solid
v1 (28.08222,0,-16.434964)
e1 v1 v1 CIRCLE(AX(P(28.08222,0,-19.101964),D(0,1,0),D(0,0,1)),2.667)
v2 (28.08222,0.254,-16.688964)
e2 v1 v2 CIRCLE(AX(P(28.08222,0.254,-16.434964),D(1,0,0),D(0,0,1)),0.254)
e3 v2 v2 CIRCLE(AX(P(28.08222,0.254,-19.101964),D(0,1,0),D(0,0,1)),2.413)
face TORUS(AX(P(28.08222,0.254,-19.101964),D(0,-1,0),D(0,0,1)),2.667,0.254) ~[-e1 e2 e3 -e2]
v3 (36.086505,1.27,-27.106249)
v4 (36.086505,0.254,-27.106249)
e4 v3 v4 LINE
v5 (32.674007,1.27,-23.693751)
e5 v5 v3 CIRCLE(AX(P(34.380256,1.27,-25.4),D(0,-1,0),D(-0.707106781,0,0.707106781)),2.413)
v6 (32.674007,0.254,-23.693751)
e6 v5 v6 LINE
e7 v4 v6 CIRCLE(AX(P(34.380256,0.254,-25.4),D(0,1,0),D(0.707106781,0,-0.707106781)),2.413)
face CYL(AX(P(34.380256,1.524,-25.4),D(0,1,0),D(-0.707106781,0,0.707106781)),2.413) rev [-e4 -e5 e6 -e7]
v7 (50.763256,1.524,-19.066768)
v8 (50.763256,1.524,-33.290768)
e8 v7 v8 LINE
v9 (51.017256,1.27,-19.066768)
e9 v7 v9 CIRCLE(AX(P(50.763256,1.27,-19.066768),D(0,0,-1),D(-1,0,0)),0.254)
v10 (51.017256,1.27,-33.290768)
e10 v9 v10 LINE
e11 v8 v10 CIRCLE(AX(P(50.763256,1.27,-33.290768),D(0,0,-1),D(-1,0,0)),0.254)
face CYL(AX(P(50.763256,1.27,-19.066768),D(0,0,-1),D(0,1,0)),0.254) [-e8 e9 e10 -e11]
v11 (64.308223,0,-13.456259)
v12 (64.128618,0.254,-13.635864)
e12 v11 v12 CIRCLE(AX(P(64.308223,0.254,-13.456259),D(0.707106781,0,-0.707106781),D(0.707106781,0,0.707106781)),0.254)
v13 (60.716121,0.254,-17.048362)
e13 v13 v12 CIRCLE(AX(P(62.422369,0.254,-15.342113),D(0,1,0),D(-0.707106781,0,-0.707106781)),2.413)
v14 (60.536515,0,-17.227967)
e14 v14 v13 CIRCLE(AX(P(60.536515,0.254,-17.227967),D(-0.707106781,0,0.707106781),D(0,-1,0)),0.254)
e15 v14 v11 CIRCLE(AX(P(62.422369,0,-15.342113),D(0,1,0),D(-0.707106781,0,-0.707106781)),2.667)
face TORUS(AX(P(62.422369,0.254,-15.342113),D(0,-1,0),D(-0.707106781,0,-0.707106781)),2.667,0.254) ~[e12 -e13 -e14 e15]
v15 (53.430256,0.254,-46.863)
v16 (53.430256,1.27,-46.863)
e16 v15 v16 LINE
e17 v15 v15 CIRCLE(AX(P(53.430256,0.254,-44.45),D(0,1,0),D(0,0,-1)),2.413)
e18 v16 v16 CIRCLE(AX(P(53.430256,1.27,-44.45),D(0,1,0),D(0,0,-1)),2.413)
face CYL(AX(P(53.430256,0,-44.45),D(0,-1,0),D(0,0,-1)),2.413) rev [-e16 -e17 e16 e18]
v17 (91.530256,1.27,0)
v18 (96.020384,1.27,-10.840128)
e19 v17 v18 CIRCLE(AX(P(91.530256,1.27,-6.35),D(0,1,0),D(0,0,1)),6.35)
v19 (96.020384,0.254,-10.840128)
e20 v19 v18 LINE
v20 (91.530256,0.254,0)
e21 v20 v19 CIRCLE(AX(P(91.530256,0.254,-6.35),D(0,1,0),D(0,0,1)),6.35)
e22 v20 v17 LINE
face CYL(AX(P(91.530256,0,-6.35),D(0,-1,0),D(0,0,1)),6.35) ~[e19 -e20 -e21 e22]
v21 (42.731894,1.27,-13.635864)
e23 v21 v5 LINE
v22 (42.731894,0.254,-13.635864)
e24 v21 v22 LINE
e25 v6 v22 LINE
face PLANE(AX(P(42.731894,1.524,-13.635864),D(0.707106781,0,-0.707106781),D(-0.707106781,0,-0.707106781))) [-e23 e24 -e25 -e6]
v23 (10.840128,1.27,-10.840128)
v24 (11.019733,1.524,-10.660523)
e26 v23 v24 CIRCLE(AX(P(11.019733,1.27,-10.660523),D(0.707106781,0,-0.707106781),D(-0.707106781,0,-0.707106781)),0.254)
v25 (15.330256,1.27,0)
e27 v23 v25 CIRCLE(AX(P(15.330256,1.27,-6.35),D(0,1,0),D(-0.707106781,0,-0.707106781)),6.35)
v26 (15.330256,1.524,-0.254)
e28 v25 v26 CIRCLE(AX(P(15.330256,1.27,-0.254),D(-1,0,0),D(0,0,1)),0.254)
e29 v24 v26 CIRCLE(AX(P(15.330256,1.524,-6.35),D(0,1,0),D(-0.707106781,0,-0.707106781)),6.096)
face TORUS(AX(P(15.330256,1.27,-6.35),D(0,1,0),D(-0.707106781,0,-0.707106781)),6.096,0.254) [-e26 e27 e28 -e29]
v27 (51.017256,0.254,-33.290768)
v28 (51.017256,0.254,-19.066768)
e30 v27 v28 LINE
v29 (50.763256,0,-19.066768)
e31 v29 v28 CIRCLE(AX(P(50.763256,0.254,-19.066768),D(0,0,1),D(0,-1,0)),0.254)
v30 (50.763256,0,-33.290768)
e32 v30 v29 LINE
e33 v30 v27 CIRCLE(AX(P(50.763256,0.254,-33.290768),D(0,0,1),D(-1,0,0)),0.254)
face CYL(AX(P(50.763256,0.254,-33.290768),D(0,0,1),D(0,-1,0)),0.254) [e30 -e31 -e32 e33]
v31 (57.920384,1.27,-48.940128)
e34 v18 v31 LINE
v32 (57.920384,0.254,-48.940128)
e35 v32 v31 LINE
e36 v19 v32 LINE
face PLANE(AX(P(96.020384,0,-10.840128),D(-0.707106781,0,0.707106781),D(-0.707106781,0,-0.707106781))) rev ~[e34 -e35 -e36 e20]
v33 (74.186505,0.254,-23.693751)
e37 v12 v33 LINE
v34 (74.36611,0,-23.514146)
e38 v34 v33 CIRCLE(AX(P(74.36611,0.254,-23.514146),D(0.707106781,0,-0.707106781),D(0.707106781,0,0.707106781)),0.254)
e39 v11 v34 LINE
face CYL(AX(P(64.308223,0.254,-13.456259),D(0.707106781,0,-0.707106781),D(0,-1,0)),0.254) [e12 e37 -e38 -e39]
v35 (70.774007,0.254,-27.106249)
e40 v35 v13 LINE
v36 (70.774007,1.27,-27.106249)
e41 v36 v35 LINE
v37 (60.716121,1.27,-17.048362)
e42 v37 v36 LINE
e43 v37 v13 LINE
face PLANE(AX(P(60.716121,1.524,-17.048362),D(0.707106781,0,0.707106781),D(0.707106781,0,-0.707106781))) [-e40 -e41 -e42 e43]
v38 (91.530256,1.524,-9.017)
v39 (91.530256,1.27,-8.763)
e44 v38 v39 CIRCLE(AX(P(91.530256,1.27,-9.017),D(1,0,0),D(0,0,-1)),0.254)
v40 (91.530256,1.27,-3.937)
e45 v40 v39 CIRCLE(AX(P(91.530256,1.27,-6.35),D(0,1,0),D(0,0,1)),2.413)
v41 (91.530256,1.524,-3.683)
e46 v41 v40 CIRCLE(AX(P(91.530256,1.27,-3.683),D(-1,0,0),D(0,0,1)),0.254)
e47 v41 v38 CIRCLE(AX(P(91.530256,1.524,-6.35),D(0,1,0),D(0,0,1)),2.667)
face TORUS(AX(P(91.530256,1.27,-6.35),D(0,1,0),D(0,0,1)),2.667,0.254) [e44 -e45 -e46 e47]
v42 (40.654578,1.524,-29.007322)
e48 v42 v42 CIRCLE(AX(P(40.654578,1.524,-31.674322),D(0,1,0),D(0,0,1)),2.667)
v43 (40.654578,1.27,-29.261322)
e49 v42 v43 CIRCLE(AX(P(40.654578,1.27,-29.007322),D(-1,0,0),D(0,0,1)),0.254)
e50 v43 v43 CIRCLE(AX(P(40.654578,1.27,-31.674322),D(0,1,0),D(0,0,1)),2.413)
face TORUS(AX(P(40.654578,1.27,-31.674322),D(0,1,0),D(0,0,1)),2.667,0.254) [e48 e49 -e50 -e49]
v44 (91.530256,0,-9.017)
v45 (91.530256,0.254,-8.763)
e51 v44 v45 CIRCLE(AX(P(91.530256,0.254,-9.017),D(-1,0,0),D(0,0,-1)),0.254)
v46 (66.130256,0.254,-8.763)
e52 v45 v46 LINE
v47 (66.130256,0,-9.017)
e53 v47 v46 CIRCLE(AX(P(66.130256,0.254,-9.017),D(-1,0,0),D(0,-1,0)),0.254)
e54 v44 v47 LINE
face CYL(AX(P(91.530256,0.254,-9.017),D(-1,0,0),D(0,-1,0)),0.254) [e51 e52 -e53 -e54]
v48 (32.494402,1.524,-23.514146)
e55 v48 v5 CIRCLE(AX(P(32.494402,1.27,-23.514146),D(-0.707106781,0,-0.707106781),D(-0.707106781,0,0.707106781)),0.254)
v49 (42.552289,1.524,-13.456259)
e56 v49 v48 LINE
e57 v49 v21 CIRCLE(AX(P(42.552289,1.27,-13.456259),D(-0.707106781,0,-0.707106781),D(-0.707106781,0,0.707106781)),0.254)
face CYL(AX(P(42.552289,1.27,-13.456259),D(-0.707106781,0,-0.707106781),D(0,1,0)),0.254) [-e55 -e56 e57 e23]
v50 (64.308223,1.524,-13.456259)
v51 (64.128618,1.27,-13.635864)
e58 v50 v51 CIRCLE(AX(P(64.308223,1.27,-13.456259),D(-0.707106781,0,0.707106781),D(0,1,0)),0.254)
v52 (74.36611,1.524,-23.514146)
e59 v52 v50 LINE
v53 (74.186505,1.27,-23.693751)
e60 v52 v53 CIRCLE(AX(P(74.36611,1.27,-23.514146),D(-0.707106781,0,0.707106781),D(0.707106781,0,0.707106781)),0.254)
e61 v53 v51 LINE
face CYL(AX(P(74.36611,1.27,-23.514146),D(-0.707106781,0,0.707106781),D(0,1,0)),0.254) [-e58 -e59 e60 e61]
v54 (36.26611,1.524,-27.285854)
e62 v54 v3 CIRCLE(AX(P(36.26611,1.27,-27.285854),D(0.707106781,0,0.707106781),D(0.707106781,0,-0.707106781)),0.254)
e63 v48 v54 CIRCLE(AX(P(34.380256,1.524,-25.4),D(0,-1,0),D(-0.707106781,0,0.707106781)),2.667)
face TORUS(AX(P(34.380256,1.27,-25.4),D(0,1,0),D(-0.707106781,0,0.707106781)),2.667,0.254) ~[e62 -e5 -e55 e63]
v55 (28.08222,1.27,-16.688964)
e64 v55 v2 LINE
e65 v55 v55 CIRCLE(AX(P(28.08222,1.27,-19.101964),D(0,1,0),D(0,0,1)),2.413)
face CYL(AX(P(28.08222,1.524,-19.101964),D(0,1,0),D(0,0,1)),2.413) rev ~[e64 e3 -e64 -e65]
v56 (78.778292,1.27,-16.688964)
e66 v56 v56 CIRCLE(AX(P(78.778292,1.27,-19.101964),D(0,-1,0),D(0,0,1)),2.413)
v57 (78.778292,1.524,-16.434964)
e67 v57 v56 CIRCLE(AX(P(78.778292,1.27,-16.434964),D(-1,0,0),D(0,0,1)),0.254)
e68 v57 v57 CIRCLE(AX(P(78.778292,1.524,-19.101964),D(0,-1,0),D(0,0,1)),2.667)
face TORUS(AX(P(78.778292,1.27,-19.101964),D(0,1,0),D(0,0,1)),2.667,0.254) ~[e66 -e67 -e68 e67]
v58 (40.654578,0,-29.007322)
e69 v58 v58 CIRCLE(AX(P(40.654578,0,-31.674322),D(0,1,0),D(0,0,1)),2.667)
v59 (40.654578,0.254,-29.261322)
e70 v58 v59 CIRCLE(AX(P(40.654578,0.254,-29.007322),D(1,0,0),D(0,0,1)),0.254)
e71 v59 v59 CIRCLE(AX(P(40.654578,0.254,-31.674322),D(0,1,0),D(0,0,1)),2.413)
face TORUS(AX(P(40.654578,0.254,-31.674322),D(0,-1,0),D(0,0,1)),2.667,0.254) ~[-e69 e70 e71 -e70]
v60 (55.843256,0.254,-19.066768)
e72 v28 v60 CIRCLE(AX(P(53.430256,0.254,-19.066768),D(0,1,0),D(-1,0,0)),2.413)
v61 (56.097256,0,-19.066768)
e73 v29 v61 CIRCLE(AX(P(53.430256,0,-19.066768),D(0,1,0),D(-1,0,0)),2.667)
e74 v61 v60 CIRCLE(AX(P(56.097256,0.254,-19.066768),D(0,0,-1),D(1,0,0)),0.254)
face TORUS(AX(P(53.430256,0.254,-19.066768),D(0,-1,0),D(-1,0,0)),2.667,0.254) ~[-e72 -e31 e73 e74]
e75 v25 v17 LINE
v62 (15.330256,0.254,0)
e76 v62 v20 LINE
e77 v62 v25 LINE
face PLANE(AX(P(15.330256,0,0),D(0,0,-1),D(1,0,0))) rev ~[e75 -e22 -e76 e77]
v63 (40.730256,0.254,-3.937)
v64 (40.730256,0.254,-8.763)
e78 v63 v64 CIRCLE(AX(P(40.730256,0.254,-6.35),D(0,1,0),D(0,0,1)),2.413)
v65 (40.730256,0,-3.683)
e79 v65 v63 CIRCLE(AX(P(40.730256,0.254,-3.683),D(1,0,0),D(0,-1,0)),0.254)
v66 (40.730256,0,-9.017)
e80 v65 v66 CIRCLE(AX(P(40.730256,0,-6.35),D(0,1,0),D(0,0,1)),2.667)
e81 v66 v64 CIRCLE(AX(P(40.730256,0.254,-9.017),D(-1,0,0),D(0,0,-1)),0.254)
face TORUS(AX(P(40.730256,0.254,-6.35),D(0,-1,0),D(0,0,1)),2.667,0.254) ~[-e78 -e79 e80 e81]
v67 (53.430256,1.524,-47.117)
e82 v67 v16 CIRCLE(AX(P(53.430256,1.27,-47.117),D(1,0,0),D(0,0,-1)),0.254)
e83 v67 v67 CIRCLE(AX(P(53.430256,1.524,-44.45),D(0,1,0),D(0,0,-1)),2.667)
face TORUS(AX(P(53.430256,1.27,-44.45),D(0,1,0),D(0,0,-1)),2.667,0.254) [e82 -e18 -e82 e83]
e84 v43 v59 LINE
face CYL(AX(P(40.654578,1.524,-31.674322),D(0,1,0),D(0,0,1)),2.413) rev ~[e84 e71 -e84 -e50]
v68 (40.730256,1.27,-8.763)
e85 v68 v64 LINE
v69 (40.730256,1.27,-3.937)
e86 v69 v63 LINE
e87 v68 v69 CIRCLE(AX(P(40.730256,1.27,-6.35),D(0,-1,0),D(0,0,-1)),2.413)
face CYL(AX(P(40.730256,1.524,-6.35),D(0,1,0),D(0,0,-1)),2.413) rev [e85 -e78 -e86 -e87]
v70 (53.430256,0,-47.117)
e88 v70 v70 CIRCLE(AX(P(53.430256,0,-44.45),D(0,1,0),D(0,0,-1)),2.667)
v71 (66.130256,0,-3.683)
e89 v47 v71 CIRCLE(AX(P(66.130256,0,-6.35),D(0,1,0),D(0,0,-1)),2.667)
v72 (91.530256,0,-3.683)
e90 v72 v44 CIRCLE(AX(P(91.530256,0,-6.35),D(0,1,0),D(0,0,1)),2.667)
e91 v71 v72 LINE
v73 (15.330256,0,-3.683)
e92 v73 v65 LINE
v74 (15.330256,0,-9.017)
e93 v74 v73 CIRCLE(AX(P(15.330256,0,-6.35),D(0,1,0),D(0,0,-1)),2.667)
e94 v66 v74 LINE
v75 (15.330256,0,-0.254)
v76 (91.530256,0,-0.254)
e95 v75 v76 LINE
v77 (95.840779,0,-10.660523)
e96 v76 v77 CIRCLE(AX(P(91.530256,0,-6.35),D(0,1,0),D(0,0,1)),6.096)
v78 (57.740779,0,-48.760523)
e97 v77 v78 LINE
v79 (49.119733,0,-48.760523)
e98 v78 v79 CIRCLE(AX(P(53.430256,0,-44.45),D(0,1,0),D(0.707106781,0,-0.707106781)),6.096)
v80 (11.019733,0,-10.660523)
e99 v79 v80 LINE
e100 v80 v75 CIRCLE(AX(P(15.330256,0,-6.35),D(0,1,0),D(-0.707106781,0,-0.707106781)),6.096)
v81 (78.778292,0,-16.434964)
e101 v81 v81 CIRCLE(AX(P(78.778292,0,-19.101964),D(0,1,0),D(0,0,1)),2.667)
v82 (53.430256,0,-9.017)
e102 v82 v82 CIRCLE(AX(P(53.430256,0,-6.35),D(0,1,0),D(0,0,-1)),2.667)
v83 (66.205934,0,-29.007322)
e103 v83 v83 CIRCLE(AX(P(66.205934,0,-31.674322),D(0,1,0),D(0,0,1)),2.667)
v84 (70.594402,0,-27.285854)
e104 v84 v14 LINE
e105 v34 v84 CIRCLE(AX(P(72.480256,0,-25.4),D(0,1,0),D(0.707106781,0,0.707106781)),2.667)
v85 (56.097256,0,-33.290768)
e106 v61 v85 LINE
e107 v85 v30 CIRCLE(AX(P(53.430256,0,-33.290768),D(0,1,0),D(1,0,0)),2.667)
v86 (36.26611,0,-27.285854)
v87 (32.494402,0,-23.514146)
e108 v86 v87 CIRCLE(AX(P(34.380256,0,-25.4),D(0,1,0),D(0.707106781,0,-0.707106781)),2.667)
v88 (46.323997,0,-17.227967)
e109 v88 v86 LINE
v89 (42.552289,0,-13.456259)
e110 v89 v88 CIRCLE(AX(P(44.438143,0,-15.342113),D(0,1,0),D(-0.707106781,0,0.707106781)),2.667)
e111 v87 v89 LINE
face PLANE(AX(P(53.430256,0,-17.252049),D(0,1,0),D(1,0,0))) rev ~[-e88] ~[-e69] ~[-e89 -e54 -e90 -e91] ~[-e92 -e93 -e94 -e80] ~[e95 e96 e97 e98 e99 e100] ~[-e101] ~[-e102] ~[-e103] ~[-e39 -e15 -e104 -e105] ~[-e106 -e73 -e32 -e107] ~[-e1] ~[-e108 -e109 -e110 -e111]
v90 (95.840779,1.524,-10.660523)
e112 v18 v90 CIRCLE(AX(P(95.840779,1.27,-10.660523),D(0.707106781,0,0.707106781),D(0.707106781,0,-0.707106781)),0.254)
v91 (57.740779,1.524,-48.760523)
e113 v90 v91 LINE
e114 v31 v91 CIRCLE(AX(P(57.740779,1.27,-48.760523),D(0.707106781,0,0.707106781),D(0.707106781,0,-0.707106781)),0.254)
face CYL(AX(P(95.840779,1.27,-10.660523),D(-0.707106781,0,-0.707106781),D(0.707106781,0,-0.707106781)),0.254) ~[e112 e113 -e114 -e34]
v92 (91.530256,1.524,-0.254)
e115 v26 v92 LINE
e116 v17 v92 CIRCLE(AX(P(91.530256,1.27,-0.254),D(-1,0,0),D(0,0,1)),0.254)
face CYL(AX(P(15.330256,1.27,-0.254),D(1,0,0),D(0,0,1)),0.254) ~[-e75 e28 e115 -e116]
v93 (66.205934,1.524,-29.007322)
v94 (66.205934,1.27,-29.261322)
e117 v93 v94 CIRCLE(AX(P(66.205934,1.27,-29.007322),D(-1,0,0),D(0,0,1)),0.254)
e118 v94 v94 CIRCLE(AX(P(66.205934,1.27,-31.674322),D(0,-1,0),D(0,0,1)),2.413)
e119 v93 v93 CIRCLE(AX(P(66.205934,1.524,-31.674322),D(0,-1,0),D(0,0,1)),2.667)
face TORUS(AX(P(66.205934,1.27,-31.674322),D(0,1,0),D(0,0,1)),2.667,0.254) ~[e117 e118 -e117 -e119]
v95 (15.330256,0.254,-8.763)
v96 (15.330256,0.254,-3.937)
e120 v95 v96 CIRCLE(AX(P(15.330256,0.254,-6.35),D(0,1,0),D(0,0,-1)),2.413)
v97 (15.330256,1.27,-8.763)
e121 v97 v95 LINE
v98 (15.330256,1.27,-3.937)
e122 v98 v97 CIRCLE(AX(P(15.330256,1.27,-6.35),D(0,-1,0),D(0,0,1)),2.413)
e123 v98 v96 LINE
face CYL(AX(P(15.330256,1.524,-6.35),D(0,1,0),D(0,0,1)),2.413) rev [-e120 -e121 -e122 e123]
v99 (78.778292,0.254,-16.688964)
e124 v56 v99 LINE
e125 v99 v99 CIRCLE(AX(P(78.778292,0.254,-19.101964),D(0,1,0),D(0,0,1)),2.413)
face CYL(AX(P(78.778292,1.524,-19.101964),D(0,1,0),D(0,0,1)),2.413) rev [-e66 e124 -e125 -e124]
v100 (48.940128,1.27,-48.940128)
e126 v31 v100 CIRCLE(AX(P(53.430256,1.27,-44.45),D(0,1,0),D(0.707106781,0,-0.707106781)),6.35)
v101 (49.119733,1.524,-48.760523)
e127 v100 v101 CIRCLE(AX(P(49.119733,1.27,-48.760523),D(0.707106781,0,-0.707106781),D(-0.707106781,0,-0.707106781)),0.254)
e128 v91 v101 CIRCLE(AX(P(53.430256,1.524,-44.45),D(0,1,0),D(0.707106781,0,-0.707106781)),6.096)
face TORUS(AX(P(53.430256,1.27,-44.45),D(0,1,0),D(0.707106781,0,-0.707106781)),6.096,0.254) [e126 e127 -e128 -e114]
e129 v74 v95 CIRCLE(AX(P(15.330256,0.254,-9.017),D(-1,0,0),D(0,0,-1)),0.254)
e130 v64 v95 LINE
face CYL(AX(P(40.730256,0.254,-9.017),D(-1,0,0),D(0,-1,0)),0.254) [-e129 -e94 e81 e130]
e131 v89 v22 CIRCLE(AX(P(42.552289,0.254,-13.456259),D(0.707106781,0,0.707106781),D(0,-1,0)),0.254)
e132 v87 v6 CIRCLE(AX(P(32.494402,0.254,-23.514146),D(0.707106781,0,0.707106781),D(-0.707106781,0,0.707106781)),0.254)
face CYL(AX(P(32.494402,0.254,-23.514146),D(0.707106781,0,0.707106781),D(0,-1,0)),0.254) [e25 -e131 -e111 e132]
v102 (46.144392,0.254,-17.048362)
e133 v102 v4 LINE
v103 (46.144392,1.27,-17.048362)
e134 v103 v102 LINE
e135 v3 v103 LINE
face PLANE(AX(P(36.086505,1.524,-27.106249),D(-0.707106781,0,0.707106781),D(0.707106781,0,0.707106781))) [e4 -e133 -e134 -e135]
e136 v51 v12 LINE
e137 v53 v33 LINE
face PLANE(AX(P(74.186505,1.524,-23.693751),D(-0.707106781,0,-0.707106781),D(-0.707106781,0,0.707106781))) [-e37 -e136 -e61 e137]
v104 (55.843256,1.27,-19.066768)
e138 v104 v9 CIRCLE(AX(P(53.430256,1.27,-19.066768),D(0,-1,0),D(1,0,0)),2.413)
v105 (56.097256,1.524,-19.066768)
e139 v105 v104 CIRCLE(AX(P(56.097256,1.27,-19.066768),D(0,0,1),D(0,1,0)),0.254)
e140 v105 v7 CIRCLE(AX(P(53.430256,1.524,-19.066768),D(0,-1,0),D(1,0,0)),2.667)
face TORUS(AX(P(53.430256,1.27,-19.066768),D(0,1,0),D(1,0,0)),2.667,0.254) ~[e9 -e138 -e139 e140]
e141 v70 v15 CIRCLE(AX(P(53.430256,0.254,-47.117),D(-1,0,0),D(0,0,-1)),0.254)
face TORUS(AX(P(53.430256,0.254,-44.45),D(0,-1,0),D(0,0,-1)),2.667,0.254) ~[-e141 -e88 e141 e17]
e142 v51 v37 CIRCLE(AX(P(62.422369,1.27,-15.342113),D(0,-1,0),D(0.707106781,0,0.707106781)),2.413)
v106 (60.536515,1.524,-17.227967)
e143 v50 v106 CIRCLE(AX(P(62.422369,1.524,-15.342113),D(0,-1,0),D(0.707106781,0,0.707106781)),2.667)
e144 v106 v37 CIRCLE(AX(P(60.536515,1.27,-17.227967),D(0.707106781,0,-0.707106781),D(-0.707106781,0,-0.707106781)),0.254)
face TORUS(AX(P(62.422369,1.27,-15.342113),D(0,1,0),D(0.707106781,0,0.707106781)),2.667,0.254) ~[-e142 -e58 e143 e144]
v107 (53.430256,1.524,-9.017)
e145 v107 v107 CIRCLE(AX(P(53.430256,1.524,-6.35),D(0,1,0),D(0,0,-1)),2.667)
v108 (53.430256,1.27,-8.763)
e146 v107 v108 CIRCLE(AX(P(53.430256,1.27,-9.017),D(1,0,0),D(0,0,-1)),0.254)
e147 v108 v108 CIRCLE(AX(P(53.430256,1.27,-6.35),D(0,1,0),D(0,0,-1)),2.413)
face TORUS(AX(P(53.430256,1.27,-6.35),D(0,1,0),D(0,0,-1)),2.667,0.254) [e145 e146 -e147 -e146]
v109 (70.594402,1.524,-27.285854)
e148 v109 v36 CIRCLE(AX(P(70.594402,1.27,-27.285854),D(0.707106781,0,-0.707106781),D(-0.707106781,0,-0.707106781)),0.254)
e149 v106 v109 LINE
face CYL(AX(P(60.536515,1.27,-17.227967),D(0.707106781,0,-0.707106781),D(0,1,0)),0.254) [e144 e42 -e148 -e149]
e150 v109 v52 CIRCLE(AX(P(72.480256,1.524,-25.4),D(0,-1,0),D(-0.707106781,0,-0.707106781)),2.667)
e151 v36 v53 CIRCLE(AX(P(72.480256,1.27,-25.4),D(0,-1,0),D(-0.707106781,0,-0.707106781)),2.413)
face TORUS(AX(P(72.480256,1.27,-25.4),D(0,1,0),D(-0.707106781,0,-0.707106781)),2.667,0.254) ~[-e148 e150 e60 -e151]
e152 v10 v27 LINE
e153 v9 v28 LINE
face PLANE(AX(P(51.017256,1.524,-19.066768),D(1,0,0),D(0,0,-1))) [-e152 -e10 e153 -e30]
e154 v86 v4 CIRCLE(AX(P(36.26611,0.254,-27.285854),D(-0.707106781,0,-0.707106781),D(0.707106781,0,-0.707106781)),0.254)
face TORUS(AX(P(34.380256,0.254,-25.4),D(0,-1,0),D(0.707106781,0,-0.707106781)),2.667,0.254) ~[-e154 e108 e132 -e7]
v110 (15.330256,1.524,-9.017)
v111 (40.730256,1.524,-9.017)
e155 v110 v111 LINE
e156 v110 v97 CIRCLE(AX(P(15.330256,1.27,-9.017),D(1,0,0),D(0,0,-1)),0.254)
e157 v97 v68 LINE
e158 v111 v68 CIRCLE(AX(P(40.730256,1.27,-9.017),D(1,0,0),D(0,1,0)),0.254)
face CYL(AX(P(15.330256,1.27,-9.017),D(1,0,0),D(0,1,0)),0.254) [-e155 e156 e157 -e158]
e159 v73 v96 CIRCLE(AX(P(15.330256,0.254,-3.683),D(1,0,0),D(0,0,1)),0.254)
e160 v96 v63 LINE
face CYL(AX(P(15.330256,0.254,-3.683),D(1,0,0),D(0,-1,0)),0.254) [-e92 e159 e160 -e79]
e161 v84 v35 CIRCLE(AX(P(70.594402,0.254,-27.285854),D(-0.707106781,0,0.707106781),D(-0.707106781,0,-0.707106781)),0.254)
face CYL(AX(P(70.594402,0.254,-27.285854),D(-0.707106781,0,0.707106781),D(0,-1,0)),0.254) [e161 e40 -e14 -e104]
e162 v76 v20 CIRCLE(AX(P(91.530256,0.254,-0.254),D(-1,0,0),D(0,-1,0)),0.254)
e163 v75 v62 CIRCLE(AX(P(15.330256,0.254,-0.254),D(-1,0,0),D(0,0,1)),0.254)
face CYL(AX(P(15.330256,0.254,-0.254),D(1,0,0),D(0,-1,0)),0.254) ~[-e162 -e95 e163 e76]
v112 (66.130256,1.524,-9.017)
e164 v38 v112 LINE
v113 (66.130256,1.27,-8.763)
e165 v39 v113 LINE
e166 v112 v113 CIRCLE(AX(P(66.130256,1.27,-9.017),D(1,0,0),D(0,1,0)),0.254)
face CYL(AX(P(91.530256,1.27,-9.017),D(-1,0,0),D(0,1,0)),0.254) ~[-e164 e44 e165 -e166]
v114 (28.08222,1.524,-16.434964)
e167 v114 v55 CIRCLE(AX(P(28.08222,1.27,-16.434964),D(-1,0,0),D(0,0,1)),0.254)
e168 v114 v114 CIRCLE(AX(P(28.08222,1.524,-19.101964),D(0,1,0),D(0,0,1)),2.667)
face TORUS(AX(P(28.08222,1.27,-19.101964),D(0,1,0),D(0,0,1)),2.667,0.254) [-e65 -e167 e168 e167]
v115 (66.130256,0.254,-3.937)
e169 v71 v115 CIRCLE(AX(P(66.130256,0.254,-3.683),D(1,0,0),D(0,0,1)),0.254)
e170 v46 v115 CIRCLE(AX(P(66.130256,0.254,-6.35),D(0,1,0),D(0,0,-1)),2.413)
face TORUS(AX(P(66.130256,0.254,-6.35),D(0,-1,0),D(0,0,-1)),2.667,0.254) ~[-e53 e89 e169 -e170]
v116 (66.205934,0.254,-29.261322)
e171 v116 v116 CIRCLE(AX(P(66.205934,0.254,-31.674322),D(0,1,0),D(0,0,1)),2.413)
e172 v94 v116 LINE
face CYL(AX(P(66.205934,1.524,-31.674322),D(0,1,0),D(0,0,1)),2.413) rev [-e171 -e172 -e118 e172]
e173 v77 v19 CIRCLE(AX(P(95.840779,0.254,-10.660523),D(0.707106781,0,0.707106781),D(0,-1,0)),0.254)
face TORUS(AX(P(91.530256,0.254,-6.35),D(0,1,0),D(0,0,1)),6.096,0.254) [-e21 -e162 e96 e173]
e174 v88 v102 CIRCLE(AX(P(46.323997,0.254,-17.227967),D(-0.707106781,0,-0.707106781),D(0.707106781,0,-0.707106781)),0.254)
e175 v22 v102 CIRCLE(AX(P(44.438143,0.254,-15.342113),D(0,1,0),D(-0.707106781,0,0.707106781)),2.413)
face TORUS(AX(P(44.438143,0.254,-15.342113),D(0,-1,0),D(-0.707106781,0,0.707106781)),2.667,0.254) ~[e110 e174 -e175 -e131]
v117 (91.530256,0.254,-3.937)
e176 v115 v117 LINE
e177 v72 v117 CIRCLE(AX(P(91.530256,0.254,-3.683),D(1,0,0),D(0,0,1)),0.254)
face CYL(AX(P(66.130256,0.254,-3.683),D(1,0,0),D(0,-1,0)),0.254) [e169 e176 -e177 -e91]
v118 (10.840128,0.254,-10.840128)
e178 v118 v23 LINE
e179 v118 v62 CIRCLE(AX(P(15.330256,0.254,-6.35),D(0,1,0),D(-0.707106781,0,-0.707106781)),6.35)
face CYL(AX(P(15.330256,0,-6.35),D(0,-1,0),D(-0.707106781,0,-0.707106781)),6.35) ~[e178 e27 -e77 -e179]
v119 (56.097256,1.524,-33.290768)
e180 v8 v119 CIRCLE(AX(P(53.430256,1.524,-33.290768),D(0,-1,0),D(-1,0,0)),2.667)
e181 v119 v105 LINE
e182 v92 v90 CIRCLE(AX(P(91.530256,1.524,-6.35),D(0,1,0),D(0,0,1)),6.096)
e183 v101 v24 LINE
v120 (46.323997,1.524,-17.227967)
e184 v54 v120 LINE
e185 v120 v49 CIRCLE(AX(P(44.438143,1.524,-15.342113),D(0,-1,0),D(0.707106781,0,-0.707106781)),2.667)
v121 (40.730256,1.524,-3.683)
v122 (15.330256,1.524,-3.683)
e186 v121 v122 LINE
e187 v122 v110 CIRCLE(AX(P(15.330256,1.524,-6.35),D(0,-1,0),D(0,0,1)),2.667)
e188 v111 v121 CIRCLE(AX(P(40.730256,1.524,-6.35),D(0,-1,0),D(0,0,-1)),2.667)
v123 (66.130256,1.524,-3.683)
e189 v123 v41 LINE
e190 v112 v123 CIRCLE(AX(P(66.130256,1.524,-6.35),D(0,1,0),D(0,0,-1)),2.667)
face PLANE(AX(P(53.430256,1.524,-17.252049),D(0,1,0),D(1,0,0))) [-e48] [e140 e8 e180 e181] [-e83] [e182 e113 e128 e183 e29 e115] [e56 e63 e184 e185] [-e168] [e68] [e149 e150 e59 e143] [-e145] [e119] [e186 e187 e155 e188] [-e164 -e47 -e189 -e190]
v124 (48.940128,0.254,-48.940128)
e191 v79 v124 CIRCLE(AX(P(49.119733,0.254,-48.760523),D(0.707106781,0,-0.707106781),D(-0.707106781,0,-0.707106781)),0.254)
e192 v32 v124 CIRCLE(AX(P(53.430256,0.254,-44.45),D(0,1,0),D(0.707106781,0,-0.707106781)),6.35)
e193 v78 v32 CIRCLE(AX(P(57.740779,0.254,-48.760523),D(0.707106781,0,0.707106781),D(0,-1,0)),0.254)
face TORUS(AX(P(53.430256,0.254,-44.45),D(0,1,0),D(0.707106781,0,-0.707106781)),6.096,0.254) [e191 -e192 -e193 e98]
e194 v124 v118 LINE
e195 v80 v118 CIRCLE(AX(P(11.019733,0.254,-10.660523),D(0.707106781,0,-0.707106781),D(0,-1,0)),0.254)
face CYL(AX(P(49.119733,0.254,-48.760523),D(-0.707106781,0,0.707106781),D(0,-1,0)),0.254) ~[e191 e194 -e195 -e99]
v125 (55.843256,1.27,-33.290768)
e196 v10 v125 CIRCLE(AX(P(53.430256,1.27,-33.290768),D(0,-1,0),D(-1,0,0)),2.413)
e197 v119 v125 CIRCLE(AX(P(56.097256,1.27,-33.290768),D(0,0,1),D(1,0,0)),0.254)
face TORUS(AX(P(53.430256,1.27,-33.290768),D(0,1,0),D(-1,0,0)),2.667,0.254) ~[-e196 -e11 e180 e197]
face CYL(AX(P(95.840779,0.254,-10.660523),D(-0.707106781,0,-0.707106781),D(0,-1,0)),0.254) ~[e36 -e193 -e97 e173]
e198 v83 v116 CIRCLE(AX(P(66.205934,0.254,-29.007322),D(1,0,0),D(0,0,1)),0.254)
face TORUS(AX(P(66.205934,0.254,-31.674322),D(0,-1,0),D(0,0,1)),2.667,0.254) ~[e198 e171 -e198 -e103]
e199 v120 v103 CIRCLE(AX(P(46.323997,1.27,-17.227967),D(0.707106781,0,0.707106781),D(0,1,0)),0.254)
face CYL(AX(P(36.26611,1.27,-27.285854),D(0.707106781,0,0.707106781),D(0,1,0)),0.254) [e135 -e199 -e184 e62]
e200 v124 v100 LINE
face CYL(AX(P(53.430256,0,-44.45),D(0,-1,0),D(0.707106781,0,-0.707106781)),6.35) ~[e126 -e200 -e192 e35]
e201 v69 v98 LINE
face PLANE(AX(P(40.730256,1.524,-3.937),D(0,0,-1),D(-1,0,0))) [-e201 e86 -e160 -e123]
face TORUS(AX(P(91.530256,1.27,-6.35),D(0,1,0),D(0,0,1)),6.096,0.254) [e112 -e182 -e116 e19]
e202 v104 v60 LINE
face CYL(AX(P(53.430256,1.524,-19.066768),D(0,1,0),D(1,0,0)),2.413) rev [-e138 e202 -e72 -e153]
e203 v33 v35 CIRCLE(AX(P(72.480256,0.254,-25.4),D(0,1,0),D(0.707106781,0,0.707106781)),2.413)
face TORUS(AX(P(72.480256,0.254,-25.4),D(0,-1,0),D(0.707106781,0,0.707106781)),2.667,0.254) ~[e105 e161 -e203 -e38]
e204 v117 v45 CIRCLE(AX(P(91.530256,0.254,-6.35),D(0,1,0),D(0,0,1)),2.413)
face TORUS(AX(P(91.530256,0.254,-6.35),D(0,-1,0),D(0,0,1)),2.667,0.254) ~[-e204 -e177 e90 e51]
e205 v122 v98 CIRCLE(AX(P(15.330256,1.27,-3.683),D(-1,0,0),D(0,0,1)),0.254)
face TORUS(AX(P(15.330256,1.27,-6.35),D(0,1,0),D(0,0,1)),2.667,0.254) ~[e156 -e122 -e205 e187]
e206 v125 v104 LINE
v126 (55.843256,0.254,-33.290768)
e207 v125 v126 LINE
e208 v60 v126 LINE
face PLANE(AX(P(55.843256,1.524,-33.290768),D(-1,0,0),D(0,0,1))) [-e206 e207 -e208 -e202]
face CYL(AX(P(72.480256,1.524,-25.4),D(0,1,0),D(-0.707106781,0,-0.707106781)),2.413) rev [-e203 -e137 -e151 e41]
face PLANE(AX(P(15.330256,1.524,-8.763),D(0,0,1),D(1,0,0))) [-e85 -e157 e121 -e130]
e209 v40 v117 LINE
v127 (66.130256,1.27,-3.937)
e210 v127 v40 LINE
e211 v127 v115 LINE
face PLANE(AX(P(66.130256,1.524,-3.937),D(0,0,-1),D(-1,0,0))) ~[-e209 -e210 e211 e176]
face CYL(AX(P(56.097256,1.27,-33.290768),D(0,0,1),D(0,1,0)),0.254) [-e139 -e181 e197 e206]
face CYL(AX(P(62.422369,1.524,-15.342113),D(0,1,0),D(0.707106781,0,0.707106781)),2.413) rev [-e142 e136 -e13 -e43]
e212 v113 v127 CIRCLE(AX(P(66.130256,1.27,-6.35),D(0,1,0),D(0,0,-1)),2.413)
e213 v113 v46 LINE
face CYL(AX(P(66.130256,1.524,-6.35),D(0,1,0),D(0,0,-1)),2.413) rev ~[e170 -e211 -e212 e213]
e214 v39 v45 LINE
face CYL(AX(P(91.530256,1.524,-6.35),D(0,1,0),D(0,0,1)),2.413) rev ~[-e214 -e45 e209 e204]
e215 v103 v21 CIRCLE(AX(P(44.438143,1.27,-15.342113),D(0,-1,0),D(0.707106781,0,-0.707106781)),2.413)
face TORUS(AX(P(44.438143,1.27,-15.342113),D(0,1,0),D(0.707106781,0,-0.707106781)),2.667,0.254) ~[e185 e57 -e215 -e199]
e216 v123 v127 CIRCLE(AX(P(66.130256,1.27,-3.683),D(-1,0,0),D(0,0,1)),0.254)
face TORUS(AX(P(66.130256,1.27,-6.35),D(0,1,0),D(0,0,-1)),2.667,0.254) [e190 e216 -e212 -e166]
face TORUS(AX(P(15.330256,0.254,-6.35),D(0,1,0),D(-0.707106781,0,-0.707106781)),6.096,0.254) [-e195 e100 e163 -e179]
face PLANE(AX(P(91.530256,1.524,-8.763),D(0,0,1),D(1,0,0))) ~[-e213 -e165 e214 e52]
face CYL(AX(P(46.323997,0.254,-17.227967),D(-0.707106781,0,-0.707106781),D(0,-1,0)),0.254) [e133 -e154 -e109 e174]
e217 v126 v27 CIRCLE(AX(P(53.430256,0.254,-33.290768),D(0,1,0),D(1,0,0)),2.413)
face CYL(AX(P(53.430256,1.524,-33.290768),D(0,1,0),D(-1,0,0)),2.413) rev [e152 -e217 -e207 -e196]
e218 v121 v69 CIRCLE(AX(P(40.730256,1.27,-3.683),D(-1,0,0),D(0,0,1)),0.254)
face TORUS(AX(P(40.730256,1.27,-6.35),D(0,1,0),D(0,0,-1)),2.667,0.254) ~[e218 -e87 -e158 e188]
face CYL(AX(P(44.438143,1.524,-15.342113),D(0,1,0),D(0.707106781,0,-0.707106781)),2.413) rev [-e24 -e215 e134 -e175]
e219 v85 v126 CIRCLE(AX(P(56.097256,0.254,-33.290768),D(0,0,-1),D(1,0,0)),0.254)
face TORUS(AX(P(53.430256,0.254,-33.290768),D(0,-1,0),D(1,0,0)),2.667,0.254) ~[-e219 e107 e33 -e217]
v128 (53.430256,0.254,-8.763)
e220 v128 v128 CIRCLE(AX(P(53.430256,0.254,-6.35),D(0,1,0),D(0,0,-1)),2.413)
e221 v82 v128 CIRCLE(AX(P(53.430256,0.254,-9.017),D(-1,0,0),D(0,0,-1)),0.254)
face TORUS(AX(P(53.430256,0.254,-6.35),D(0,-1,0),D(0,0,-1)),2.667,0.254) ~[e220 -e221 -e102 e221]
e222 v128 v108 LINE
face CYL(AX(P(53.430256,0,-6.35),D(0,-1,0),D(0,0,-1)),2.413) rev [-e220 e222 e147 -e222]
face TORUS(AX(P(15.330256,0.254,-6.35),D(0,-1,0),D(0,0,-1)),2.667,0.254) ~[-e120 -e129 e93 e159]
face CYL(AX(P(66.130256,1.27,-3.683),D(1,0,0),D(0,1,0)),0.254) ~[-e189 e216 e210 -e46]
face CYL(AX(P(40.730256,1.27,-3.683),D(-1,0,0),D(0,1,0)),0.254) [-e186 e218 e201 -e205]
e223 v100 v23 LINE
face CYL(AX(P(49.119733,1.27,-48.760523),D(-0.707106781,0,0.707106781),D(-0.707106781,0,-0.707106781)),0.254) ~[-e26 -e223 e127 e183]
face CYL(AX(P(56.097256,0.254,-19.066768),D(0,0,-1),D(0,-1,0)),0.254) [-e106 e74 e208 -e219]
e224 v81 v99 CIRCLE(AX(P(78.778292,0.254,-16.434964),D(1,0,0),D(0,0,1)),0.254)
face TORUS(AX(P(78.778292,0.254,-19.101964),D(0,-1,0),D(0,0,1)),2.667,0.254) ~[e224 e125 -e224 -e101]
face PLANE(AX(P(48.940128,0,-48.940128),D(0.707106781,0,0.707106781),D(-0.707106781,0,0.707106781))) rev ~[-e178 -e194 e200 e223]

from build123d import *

# Parameters (mm, degrees)
SKETCH1_R          = 2.413
EXTRUDE1_DEPTH     = 1.524
CUT_EXTRUDE1_DEPTH = 111.288290921
CIRPATTERN1_COUNT  = 3
CIRPATTERN1_ANGLE  = 90
SKETCH3_R          = 2.413
CUT_EXTRUDE2_DEPTH = 111.288290921
FILLET1_R          = 0.254


with BuildPart() as part:
    # Sketch1 → Extrude1 (new body)
    with BuildSketch(Plane(origin=(0, 0, 0), x_dir=(1, 0, 0), z_dir=(0, 1, 0))):
        with BuildLine():
            Line((15.330256121, 0), (91.530256121, 0))
            ThreePointArc((91.530256121, 0), (97.396891153, 3.919960204), (96.020384182, 10.840128061))
            Line((96.020384182, 10.840128061), (57.920384182, 48.940128061))
            ThreePointArc((57.920384182, 48.940128061), (53.430256121, 50.8), (48.940128061, 48.940128061))
            Line((48.940128061, 48.940128061), (10.840128061, 10.840128061))
            ThreePointArc((10.840128061, 10.840128061), (9.46362109, 3.919960204), (15.330256121, 0))
        make_face()
        with Locations(Location((53.430256121, 44.45, 0), (0, 0, 90))):
            Circle(SKETCH1_R, mode=Mode.SUBTRACT)
        with Locations(Location((53.430256121, 6.35, 0), (0, 0, 90))):
            Circle(SKETCH1_R, mode=Mode.SUBTRACT)
    extrude(amount=EXTRUDE1_DEPTH)

    # Sketch2 → Cut-Extrude1 (cut, through all)
    with BuildSketch(Plane(origin=(0, 1.524, 0), x_dir=(-1, 0, 0), z_dir=(0, 1, 0))):
        with BuildLine():
            Line((-74.186504784, -23.693751337), (-64.128617928, -13.635864481))
            ThreePointArc((-64.128617928, -13.635864481), (-60.716120602, -13.635864481), (-60.716120602, -17.048361807))
            Line((-60.716120602, -17.048361807), (-70.774007458, -27.106248663))
            ThreePointArc((-70.774007458, -27.106248663), (-74.186504784, -27.106248663), (-74.186504784, -23.693751337))
        make_face()
    cut_extrude1 = extrude(amount=-CUT_EXTRUDE1_DEPTH, mode=Mode.SUBTRACT)

    # CirPattern1: Cut-Extrude1 ×3 about axis
    cirpattern1_axis = Axis((53.430256121, 0, -6.35), (0, 1, 0))
    for i in range(1, CIRPATTERN1_COUNT):
        add(cut_extrude1.rotate(cirpattern1_axis, i * CIRPATTERN1_ANGLE / (CIRPATTERN1_COUNT - 1)), mode=Mode.SUBTRACT)

    # Sketch3 → Cut-Extrude2 (cut, through all)
    with BuildSketch(Plane(origin=(0, 1.524, 0), x_dir=(-1, 0, 0), z_dir=(0, 1, 0))):
        with Locations(Location((-28.082219813, -19.101963692, 0), (0, 0, 90))):
            Circle(SKETCH3_R)
        with Locations(Location((-40.654578382, -31.674322261, 0), (0, 0, 90))):
            Circle(SKETCH3_R)
        with BuildLine():
            Line((-15.330256121, -8.763), (-40.730256121, -8.763))
            ThreePointArc((-40.730256121, -8.763), (-43.143256121, -6.35), (-40.730256121, -3.937))
            Line((-40.730256121, -3.937), (-15.330256121, -3.937))
            ThreePointArc((-15.330256121, -3.937), (-12.917256121, -6.35), (-15.330256121, -8.763))
        make_face()
    cut_extrude2 = extrude(amount=-CUT_EXTRUDE2_DEPTH, mode=Mode.SUBTRACT)

    # Mirror1: Cut-Extrude2 across plane
    add(cut_extrude2.mirror(Plane.ZY.offset(-53.430256121)), mode=Mode.SUBTRACT)

    # Fillet1
    fillet1_edges = [part.edges().sort_by_distance(p)[0] for p in [
        (9.46362109, 1.524, -3.919960204),
        (78.778292429, 1.524, -21.514963692),
        (78.778292429, 0, -21.514963692),
        (66.20593386, 1.524, -34.087322261),
        (66.20593386, 0, -34.087322261),
        (53.430256121, 1.524, 0),
        (53.430256121, 0, -42.037),
        (97.396891153, 1.524, -3.919960204),
        (53.430256121, 1.524, -42.037),
        (76.970384182, 1.524, -29.890128061),
        (53.430256121, 0, -3.937),
        (53.430256121, 1.524, -3.937),
        (74.186504784, 0, -27.106248663),
        (69.157561356, 0, -18.664807909),
        (60.716120602, 0, -13.635864481),
        (65.74506403, 0, -22.077305235),
        (74.186504784, 1.524, -27.106248663),
        (65.74506403, 1.524, -22.077305235),
        (60.716120602, 1.524, -13.635864481),
        (69.157561356, 1.524, -18.664807909),
        (53.430256121, 1.524, -50.8),
        (53.430256121, 1.524, -35.703768363),
        (51.017256121, 1.524, -26.178768363),
        (53.430256121, 1.524, -16.653768363),
        (55.843256121, 1.524, -26.178768363),
        (53.430256121, 0, -35.703768363),
        (55.843256121, 0, -26.178768363),
        (53.430256121, 0, -16.653768363),
        (51.017256121, 0, -26.178768363),
        (76.970384182, 0, -29.890128061),
        (32.674007458, 1.524, -27.106248663),
        (37.702950886, 1.524, -18.664807909),
        (46.14439164, 1.524, -13.635864481),
        (41.115448212, 1.524, -22.077305235),
        (32.674007458, 0, -27.106248663),
        (41.115448212, 0, -22.077305235),
        (46.14439164, 0, -13.635864481),
        (37.702950886, 0, -18.664807909),
        (97.396891153, 0, -3.919960204),
        (53.430256121, 0, 0),
        (9.46362109, 0, -3.919960204),
        (29.890128061, 1.524, -29.890128061),
        (29.890128061, 0, -29.890128061),
        (12.917256121, 0, -6.35),
        (28.030256121, 0, -8.763),
        (43.143256121, 0, -6.35),
        (28.030256121, 0, -3.937),
        (12.917256121, 1.524, -6.35),
        (28.030256121, 1.524, -3.937),
        (43.143256121, 1.524, -6.35),
        (28.030256121, 1.524, -8.763),
        (53.430256121, 0, -50.8),
        (28.082219813, 0, -21.514963692),
        (28.082219813, 1.524, -21.514963692),
        (40.654578382, 0, -34.087322261),
        (40.654578382, 1.524, -34.087322261),
        (93.943256121, 1.524, -6.35),
        (78.830256121, 1.524, -3.937),
        (63.717256121, 1.524, -6.35),
        (78.830256121, 1.524, -8.763),
        (93.943256121, 0, -6.35),
        (78.830256121, 0, -3.937),
        (63.717256121, 0, -6.35),
        (78.830256121, 0, -8.763),
    ]]
    fillet(fillet1_edges, radius=FILLET1_R)


solid = part.part
